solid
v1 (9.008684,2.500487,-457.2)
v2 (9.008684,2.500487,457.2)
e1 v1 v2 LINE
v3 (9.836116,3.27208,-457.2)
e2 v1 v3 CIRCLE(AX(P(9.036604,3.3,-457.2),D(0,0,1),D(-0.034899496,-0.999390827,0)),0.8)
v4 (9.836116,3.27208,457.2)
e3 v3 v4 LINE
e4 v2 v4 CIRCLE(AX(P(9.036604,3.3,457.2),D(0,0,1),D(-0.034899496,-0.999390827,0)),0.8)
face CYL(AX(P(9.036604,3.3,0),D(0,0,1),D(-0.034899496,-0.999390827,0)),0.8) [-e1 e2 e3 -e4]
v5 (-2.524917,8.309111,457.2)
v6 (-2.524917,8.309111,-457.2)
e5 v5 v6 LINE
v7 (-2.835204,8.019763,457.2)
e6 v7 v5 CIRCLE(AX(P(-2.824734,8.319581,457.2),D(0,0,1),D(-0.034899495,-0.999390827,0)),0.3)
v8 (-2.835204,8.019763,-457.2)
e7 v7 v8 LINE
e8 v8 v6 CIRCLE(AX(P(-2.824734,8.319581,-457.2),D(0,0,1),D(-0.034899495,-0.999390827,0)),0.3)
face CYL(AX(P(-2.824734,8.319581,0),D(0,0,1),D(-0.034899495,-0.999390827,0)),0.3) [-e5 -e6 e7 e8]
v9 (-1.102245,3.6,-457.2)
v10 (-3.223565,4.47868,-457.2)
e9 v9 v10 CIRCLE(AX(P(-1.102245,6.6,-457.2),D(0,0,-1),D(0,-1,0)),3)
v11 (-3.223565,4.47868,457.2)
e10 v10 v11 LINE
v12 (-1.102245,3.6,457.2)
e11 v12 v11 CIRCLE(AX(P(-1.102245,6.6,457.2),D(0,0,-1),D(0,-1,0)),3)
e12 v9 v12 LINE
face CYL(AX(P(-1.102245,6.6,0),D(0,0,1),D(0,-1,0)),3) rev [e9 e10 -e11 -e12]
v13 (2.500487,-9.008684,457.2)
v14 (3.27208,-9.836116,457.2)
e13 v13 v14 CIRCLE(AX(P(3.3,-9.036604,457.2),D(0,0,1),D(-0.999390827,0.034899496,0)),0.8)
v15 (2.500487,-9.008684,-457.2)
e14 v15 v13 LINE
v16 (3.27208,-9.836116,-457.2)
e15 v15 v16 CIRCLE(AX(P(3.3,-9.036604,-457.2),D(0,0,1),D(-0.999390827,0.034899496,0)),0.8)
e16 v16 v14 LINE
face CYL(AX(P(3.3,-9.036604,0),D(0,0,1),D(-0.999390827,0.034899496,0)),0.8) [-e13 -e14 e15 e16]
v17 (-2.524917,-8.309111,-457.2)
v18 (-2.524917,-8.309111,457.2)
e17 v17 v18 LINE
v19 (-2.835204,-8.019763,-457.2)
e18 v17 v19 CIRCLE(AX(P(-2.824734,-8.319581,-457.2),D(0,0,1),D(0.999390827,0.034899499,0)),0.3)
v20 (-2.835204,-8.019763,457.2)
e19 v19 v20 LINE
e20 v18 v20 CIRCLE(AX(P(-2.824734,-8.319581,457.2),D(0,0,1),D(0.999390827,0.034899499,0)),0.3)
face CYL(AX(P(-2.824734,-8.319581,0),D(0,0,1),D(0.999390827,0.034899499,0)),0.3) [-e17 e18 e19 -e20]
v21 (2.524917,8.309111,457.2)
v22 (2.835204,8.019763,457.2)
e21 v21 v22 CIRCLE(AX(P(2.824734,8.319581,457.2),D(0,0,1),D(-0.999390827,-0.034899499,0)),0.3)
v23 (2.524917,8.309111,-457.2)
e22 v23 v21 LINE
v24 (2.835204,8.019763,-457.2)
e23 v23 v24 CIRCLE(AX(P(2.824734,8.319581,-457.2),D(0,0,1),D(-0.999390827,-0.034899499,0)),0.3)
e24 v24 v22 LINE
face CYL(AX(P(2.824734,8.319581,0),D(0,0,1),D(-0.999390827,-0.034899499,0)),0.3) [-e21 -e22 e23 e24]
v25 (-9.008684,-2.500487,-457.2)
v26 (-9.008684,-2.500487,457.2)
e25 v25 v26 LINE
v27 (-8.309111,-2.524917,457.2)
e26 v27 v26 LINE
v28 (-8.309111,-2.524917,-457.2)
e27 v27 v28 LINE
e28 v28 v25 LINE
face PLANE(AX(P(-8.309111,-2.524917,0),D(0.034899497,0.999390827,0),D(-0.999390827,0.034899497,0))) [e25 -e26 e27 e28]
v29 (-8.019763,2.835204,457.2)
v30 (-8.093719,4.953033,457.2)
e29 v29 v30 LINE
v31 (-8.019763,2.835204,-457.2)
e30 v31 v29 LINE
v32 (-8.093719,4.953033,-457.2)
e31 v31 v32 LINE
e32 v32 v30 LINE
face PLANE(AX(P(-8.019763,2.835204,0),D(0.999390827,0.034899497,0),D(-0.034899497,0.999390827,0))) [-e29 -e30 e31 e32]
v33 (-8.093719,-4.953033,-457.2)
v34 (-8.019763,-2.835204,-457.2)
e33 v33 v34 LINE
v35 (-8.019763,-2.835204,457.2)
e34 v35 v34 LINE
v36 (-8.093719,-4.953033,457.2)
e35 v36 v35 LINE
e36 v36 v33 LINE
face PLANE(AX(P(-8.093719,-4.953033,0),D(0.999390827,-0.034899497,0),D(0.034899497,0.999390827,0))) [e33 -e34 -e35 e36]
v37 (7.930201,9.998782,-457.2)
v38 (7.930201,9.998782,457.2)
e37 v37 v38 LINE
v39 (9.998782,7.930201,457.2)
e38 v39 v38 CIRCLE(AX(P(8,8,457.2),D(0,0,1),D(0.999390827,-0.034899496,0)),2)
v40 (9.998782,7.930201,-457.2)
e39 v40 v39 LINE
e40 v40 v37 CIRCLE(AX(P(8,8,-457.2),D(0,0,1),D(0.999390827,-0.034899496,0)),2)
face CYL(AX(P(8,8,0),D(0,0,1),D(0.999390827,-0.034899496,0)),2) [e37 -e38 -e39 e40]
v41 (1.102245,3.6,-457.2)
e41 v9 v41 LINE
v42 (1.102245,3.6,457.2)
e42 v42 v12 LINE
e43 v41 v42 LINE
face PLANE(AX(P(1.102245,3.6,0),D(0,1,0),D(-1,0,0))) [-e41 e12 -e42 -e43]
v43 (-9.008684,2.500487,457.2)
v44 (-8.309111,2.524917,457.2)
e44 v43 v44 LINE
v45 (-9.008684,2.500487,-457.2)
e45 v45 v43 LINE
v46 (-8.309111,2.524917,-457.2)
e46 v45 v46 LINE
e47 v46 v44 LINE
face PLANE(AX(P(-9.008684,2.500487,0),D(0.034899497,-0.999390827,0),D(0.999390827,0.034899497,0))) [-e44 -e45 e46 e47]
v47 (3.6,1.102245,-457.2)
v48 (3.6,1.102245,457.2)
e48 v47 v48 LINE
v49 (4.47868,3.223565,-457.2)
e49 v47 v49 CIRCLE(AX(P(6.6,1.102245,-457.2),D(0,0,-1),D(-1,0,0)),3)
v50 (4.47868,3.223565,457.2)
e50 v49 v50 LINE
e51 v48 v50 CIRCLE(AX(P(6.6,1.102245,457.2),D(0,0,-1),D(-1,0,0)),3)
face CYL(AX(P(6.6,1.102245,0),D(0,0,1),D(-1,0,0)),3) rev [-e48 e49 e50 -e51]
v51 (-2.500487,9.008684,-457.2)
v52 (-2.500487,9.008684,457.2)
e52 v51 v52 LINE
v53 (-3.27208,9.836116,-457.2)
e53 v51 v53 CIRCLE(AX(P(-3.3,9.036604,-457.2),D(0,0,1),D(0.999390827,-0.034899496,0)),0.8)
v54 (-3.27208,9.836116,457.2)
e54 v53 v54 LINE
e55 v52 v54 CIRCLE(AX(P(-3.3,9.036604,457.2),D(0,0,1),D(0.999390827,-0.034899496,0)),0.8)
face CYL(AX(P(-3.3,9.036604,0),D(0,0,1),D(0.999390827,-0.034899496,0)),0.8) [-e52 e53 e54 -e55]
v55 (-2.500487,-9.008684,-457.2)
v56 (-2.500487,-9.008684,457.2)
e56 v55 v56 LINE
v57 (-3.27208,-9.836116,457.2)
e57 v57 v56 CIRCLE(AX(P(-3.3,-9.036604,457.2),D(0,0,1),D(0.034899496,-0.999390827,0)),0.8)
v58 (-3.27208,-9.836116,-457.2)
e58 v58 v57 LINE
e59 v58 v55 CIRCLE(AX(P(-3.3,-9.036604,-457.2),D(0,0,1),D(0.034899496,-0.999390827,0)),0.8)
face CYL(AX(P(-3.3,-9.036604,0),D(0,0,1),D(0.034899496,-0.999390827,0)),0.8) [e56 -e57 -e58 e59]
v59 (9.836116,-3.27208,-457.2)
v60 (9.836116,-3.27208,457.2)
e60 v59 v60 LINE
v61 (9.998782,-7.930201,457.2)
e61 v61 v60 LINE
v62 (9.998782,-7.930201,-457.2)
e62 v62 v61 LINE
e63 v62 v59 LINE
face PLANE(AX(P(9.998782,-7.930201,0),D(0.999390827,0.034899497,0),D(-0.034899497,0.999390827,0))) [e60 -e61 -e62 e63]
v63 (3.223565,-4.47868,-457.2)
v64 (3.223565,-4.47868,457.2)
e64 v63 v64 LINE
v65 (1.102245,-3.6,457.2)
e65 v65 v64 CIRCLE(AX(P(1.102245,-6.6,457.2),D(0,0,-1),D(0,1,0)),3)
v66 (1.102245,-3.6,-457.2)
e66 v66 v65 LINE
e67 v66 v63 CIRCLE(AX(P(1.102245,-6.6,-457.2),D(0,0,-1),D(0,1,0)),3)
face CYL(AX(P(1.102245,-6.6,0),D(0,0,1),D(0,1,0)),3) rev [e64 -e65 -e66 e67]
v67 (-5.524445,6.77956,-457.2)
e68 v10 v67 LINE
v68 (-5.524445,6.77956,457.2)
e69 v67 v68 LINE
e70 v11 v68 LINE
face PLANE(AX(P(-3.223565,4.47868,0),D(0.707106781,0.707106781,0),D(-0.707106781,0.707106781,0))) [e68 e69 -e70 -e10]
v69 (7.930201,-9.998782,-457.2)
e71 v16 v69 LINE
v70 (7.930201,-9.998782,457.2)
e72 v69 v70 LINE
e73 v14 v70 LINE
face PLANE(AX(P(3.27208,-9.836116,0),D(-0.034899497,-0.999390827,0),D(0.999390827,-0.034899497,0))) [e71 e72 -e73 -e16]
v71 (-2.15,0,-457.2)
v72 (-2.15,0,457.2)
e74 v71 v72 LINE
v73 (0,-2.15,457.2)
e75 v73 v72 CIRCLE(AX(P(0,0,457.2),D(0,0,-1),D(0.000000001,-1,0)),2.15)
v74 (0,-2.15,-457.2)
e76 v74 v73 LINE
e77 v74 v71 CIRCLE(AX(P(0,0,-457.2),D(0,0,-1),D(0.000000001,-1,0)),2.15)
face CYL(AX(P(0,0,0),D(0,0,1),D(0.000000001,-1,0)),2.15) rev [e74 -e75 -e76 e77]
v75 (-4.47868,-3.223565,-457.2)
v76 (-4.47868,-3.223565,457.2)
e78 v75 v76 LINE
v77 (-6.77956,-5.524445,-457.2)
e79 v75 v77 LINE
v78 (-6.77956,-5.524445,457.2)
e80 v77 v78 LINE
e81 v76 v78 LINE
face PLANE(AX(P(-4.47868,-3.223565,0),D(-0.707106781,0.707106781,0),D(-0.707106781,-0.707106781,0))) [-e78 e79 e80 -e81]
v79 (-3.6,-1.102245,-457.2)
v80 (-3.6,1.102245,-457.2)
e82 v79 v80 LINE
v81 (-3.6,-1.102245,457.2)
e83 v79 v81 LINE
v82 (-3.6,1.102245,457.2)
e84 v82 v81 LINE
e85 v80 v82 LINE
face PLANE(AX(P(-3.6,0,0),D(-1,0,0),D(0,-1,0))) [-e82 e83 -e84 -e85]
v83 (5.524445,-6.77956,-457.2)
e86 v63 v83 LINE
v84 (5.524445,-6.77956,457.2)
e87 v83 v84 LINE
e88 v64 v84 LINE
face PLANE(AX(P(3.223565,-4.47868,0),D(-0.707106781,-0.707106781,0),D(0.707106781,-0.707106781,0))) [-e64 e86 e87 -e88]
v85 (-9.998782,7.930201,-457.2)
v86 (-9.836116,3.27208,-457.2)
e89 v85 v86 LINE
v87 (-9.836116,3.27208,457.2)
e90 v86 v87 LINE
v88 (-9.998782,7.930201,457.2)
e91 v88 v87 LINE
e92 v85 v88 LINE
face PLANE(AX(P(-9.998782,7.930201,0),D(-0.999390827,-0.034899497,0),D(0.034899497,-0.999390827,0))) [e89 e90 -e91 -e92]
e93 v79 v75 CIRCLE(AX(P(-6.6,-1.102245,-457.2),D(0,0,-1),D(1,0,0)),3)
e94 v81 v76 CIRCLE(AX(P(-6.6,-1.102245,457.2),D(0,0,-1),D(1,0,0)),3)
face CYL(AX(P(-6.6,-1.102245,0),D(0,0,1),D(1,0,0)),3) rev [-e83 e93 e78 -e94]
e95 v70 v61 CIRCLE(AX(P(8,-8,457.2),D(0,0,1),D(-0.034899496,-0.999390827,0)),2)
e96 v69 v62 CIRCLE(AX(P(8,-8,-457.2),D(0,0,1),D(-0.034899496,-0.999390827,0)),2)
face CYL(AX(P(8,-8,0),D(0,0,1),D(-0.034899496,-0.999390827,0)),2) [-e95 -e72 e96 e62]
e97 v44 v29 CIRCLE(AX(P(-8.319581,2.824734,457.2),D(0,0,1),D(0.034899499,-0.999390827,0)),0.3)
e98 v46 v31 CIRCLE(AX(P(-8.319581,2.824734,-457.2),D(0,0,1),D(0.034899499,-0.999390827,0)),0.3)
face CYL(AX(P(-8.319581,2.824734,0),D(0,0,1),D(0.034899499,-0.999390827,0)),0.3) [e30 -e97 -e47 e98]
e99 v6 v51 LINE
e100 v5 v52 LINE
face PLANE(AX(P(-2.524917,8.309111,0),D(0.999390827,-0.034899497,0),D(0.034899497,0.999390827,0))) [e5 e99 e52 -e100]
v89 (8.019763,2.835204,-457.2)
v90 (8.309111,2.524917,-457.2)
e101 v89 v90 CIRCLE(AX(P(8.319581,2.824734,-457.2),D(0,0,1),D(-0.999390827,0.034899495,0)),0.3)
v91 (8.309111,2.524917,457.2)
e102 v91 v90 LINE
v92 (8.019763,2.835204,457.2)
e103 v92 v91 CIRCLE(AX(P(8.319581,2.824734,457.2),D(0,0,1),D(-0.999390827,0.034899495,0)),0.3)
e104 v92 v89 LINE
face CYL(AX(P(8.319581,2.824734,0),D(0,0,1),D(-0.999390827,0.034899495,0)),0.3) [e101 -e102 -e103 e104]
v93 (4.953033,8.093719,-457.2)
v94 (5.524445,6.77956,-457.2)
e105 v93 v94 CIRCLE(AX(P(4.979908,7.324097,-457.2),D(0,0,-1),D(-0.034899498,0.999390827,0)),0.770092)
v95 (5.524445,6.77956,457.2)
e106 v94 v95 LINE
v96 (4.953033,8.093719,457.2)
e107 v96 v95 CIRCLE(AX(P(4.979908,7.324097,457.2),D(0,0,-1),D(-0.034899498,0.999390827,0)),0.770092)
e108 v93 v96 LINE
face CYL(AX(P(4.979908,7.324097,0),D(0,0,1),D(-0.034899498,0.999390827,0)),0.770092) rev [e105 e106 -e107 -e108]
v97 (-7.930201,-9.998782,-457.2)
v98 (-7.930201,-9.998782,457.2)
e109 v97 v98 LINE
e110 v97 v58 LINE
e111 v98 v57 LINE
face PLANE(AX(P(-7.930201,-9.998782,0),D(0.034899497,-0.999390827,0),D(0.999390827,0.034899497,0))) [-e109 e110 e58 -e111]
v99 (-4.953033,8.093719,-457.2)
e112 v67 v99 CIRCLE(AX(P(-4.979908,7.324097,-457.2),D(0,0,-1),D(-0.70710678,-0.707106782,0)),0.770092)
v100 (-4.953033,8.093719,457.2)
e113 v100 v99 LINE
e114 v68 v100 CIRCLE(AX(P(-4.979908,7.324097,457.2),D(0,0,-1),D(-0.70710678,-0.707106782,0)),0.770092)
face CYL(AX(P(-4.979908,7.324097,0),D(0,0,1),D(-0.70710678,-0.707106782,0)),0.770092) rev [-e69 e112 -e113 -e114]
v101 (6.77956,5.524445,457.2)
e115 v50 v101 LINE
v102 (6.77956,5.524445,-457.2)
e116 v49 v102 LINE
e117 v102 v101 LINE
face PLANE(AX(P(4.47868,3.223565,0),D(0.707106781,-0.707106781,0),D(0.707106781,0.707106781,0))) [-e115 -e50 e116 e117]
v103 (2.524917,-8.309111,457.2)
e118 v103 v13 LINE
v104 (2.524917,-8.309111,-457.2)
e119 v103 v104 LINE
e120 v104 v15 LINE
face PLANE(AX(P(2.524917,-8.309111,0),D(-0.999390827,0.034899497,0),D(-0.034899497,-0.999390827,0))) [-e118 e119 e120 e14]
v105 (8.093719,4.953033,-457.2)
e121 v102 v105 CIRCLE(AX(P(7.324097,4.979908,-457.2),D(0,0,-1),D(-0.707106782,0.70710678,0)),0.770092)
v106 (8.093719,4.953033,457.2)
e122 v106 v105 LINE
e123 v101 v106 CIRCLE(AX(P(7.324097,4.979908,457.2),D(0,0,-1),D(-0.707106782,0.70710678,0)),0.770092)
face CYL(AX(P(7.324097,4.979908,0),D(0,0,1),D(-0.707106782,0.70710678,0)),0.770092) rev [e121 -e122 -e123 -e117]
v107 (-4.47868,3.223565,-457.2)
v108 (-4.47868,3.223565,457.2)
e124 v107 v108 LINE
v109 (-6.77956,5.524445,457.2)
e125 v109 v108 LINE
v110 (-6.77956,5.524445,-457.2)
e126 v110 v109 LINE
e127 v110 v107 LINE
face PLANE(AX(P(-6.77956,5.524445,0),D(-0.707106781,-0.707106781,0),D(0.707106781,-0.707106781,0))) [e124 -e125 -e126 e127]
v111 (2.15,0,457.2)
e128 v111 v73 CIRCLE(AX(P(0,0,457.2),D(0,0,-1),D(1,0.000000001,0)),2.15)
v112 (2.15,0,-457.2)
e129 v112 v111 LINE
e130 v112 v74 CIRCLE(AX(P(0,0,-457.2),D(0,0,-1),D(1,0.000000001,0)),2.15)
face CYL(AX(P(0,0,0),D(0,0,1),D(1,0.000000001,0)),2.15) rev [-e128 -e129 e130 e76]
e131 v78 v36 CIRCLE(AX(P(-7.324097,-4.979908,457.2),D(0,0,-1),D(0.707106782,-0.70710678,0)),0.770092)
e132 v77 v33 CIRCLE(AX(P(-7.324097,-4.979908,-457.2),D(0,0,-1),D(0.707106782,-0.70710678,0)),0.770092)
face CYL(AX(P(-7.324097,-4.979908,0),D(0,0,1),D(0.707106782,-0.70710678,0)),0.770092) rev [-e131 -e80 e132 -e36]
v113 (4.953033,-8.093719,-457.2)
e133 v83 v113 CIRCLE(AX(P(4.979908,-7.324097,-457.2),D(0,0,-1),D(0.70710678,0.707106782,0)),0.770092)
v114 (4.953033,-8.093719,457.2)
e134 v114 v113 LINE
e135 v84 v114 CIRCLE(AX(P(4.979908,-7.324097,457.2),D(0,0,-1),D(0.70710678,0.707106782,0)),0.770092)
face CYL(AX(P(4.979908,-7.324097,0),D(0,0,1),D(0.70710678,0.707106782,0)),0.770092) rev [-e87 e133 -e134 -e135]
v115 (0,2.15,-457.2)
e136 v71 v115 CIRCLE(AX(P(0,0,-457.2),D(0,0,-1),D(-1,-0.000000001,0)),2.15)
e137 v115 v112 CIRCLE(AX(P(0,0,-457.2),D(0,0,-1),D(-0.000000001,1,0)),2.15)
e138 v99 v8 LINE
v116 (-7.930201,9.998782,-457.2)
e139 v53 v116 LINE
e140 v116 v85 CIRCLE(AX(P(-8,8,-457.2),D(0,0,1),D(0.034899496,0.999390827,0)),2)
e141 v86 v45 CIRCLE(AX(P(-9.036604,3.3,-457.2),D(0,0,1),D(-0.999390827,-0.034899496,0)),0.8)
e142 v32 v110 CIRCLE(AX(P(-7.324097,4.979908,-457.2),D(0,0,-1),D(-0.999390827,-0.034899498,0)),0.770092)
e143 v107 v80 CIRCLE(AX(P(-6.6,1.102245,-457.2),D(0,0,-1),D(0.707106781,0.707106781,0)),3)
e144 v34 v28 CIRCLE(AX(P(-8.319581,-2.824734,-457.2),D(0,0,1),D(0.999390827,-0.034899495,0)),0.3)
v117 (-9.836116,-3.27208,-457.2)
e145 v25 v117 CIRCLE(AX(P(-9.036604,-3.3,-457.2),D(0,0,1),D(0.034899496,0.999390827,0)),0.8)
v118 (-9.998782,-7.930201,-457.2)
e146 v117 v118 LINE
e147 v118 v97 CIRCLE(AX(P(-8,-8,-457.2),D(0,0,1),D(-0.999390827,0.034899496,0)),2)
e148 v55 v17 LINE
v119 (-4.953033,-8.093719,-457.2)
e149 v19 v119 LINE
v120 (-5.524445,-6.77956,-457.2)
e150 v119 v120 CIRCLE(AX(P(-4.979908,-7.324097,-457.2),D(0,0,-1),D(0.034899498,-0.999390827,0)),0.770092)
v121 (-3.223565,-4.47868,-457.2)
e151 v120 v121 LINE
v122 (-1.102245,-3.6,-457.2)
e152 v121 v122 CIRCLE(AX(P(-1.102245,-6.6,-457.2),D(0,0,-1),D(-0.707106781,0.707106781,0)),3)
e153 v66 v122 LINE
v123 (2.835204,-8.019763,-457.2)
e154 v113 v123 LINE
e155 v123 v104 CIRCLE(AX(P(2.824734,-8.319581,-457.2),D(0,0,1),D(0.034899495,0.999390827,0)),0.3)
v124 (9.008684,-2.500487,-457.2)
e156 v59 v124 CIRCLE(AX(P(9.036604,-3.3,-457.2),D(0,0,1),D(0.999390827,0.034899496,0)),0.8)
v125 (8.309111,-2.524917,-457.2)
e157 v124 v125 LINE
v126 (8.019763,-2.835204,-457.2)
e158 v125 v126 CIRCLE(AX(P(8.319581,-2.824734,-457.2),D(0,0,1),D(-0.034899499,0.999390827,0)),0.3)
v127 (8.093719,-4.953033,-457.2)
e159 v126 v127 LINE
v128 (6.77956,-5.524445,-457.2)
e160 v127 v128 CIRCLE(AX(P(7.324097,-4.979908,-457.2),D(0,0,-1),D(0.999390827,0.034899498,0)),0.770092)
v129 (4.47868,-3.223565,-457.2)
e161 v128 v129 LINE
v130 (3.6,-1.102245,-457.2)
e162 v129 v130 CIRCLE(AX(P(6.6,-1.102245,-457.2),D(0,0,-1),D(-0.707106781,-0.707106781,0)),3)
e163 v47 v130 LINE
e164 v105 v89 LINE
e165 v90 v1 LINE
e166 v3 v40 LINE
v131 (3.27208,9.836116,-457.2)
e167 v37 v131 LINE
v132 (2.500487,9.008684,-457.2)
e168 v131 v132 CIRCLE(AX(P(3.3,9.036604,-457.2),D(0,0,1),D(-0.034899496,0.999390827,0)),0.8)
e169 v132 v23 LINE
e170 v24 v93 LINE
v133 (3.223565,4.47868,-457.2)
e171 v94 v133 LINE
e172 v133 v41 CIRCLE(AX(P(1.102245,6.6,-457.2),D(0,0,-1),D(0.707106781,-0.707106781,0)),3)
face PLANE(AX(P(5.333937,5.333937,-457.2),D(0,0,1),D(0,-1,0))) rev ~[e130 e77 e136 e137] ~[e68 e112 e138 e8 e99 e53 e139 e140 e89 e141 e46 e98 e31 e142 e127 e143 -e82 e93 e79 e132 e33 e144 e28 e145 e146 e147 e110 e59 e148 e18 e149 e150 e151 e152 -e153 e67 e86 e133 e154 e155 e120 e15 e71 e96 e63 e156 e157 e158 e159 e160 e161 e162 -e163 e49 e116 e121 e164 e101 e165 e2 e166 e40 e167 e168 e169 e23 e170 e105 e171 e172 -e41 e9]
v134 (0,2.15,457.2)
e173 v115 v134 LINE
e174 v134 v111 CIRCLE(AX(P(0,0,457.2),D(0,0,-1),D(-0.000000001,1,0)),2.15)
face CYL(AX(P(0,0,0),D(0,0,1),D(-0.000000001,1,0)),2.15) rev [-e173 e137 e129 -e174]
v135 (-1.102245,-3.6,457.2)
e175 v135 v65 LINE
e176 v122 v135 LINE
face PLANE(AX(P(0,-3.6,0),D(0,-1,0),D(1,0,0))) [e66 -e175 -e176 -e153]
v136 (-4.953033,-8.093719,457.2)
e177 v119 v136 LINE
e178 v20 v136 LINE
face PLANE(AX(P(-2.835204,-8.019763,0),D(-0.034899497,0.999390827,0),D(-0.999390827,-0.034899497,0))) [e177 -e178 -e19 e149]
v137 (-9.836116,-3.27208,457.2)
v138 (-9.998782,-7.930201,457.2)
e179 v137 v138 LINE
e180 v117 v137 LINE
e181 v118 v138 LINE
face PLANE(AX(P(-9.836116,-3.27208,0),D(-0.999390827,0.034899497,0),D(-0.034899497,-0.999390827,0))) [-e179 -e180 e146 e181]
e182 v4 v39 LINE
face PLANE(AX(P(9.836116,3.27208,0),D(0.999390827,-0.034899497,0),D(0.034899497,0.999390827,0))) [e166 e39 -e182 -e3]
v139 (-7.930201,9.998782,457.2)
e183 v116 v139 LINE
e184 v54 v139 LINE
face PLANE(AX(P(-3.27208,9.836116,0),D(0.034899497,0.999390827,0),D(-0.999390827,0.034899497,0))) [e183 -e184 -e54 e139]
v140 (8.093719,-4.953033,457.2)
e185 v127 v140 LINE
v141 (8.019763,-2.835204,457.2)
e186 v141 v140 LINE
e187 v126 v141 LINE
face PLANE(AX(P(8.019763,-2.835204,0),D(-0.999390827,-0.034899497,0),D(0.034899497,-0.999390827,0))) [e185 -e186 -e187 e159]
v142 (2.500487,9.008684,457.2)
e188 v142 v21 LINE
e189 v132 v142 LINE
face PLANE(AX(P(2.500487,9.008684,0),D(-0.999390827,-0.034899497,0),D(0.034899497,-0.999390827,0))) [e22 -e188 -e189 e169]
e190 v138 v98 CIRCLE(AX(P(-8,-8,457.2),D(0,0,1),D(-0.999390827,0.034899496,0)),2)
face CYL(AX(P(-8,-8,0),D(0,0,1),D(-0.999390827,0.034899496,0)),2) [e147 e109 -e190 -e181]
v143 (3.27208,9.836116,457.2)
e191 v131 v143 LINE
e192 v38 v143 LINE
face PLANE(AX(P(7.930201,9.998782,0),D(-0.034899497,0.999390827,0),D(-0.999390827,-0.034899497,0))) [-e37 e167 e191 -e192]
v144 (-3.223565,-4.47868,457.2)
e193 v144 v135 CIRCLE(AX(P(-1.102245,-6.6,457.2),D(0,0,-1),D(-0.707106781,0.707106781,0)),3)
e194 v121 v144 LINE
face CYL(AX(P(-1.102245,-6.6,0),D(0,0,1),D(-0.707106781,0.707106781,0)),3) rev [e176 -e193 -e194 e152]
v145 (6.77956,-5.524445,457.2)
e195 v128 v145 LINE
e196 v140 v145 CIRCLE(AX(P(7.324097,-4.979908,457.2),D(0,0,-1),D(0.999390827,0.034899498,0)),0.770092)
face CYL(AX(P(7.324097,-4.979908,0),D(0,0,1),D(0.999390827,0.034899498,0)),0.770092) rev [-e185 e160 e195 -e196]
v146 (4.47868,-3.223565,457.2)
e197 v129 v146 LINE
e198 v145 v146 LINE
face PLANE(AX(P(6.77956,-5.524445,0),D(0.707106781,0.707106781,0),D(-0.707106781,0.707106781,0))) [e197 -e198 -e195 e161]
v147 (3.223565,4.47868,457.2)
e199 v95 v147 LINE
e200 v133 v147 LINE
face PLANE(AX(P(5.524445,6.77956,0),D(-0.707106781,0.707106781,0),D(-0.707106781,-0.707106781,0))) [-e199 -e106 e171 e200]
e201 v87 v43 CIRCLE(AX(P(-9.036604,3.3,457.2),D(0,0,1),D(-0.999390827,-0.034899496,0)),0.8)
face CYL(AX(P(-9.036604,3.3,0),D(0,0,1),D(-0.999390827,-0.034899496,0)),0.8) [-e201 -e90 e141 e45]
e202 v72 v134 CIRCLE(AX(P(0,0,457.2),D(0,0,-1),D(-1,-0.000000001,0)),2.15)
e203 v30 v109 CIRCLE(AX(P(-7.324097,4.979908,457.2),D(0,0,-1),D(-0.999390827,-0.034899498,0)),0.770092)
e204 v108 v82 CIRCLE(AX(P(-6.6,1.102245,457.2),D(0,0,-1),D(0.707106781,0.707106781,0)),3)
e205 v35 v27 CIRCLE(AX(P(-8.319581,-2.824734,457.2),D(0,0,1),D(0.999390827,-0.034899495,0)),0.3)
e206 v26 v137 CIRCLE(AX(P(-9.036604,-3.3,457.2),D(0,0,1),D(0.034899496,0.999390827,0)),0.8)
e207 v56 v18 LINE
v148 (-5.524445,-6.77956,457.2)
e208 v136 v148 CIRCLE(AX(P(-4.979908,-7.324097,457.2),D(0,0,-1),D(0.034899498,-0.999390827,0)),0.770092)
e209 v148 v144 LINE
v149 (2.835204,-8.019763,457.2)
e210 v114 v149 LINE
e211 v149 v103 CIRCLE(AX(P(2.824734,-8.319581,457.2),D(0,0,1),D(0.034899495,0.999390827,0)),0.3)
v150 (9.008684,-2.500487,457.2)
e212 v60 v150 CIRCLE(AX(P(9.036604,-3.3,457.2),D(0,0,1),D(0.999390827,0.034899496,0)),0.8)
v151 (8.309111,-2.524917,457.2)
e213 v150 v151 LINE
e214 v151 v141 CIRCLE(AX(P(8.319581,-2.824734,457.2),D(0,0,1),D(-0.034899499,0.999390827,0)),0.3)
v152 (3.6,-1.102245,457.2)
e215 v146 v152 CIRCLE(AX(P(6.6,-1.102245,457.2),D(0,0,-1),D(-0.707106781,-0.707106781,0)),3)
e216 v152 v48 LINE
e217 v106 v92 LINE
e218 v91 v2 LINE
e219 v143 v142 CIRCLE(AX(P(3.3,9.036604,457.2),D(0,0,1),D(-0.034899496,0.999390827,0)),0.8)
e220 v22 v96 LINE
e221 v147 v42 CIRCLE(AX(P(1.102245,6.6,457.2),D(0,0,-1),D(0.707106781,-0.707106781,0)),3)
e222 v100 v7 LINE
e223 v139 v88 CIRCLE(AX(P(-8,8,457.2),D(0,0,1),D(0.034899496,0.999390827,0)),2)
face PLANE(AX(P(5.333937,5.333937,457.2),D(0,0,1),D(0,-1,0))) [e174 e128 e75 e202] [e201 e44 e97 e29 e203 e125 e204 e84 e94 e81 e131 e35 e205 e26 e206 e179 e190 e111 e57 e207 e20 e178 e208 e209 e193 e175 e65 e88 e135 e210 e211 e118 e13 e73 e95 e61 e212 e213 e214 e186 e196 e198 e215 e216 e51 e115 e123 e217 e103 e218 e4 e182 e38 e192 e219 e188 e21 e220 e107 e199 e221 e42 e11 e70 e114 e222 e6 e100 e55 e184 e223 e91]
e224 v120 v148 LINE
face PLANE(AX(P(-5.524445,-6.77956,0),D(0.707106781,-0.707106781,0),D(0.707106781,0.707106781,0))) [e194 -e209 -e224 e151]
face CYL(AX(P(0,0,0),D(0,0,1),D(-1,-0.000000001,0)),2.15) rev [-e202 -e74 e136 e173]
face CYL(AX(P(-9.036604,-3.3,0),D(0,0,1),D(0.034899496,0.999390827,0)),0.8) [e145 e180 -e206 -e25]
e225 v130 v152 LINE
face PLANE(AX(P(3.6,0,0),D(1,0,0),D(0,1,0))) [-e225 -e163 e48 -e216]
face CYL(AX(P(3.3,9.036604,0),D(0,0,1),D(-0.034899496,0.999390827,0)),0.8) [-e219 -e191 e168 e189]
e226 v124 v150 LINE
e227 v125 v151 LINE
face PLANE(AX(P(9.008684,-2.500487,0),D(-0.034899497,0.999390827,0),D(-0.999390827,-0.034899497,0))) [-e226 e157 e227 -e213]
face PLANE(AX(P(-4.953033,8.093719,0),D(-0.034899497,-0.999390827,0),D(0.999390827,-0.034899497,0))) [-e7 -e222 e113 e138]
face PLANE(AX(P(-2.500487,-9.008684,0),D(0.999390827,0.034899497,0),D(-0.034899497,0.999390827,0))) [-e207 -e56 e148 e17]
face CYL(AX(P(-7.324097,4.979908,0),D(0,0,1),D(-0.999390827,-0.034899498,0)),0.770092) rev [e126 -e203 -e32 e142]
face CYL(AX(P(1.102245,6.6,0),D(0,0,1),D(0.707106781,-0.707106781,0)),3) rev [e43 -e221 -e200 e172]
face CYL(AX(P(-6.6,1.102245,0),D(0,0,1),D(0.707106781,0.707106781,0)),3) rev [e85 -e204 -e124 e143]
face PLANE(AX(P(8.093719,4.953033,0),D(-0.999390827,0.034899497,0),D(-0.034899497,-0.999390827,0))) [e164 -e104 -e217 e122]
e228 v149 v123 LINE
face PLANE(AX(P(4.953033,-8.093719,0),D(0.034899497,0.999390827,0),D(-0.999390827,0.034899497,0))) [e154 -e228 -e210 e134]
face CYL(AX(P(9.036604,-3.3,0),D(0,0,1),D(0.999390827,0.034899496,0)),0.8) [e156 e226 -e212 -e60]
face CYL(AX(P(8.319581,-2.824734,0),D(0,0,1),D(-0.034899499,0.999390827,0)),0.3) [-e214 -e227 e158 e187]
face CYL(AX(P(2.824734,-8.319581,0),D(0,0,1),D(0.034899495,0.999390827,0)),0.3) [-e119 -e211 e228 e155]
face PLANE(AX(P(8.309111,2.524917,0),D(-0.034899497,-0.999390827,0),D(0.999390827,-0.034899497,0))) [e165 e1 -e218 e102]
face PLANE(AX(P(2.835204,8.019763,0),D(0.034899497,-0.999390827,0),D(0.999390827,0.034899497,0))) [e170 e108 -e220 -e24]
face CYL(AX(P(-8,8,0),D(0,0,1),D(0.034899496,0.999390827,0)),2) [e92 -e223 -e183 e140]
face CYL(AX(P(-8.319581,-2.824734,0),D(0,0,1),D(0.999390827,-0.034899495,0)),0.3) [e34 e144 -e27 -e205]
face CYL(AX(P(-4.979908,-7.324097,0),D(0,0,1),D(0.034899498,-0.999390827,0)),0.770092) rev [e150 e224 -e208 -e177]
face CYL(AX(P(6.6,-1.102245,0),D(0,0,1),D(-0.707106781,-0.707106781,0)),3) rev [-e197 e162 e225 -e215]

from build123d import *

# Parameters (mm, degrees)
BOSS_EXTRUDE1_DEPTH = 457.2
CIRPATTERN1_COUNT   = 4


with BuildPart() as part:
    # Sketch3 → Boss-Extrude1 (new, symmetric)
    with BuildSketch(Plane.XY):
        with BuildLine():
            Line((-2.524916986, 8.30911066), (-2.500487338, 9.008684239))
            ThreePointArc((-2.500487338, 9.008684239), (-2.714917039, 9.582202525), (-3.272080403, 9.836116498))
            Line((-3.272080403, 9.836116498), (-7.930201007, 9.998781654))
            ThreePointArc((-7.930201007, 9.998781654), (-9.414213562, 9.414213562), (-9.998781654, 7.930201007))
            Line((-9.998781654, 7.930201007), (-9.836116498, 3.272080403))
            ThreePointArc((-9.836116498, 3.272080403), (-9.582202525, 2.714917039), (-9.008684239, 2.500487338))
            Line((-9.008684239, 2.500487338), (-8.30911066, 2.524916986))
            ThreePointArc((-8.30911066, 2.524916986), (-8.100174399, 2.620134726), (-8.019763261, 2.835204083))
            Line((-8.019763261, 2.835204083), (-8.093719461, 4.953032548))
            ThreePointArc((-8.093719461, 4.953032548), (-7.631170264, 5.686128657), (-6.779559917, 5.52444538))
            Line((-6.779559917, 5.52444538), (-4.478679656, 3.22356512))
            ThreePointArc((-4.478679656, 3.22356512), (-3.828361402, 2.250295073), (-3.6, 1.102244776))
            Line((-3.6, 1.102244776), (-3.6, 0))
            Line((-3.6, 0), (-2.15, 0))
            ThreePointArc((-2.15, 0), (-1.52027958, 1.52027958), (0, 2.15))
            Line((0, 2.15), (0, 3.6))
            Line((0, 3.6), (-1.102244776, 3.6))
            ThreePointArc((-1.102244776, 3.6), (-2.250295073, 3.828361402), (-3.22356512, 4.478679656))
            Line((-3.22356512, 4.478679656), (-5.52444538, 6.779559917))
            ThreePointArc((-5.52444538, 6.779559917), (-5.686128657, 7.631170264), (-4.953032548, 8.093719461))
            Line((-4.953032548, 8.093719461), (-2.835204083, 8.019763261))
            ThreePointArc((-2.835204083, 8.019763261), (-2.620134726, 8.100174399), (-2.524916986, 8.30911066))
        make_face()
    boss_extrude1 = extrude(amount=BOSS_EXTRUDE1_DEPTH, both=True)

    # CirPattern1: Boss-Extrude1 ×4 about axis
    cirpattern1_axis = Axis((0, 0, 0), (0, 0, 1))
    for i in range(1, CIRPATTERN1_COUNT):
        add(boss_extrude1.rotate(cirpattern1_axis, i * 360 / CIRPATTERN1_COUNT))


solid = part.part
